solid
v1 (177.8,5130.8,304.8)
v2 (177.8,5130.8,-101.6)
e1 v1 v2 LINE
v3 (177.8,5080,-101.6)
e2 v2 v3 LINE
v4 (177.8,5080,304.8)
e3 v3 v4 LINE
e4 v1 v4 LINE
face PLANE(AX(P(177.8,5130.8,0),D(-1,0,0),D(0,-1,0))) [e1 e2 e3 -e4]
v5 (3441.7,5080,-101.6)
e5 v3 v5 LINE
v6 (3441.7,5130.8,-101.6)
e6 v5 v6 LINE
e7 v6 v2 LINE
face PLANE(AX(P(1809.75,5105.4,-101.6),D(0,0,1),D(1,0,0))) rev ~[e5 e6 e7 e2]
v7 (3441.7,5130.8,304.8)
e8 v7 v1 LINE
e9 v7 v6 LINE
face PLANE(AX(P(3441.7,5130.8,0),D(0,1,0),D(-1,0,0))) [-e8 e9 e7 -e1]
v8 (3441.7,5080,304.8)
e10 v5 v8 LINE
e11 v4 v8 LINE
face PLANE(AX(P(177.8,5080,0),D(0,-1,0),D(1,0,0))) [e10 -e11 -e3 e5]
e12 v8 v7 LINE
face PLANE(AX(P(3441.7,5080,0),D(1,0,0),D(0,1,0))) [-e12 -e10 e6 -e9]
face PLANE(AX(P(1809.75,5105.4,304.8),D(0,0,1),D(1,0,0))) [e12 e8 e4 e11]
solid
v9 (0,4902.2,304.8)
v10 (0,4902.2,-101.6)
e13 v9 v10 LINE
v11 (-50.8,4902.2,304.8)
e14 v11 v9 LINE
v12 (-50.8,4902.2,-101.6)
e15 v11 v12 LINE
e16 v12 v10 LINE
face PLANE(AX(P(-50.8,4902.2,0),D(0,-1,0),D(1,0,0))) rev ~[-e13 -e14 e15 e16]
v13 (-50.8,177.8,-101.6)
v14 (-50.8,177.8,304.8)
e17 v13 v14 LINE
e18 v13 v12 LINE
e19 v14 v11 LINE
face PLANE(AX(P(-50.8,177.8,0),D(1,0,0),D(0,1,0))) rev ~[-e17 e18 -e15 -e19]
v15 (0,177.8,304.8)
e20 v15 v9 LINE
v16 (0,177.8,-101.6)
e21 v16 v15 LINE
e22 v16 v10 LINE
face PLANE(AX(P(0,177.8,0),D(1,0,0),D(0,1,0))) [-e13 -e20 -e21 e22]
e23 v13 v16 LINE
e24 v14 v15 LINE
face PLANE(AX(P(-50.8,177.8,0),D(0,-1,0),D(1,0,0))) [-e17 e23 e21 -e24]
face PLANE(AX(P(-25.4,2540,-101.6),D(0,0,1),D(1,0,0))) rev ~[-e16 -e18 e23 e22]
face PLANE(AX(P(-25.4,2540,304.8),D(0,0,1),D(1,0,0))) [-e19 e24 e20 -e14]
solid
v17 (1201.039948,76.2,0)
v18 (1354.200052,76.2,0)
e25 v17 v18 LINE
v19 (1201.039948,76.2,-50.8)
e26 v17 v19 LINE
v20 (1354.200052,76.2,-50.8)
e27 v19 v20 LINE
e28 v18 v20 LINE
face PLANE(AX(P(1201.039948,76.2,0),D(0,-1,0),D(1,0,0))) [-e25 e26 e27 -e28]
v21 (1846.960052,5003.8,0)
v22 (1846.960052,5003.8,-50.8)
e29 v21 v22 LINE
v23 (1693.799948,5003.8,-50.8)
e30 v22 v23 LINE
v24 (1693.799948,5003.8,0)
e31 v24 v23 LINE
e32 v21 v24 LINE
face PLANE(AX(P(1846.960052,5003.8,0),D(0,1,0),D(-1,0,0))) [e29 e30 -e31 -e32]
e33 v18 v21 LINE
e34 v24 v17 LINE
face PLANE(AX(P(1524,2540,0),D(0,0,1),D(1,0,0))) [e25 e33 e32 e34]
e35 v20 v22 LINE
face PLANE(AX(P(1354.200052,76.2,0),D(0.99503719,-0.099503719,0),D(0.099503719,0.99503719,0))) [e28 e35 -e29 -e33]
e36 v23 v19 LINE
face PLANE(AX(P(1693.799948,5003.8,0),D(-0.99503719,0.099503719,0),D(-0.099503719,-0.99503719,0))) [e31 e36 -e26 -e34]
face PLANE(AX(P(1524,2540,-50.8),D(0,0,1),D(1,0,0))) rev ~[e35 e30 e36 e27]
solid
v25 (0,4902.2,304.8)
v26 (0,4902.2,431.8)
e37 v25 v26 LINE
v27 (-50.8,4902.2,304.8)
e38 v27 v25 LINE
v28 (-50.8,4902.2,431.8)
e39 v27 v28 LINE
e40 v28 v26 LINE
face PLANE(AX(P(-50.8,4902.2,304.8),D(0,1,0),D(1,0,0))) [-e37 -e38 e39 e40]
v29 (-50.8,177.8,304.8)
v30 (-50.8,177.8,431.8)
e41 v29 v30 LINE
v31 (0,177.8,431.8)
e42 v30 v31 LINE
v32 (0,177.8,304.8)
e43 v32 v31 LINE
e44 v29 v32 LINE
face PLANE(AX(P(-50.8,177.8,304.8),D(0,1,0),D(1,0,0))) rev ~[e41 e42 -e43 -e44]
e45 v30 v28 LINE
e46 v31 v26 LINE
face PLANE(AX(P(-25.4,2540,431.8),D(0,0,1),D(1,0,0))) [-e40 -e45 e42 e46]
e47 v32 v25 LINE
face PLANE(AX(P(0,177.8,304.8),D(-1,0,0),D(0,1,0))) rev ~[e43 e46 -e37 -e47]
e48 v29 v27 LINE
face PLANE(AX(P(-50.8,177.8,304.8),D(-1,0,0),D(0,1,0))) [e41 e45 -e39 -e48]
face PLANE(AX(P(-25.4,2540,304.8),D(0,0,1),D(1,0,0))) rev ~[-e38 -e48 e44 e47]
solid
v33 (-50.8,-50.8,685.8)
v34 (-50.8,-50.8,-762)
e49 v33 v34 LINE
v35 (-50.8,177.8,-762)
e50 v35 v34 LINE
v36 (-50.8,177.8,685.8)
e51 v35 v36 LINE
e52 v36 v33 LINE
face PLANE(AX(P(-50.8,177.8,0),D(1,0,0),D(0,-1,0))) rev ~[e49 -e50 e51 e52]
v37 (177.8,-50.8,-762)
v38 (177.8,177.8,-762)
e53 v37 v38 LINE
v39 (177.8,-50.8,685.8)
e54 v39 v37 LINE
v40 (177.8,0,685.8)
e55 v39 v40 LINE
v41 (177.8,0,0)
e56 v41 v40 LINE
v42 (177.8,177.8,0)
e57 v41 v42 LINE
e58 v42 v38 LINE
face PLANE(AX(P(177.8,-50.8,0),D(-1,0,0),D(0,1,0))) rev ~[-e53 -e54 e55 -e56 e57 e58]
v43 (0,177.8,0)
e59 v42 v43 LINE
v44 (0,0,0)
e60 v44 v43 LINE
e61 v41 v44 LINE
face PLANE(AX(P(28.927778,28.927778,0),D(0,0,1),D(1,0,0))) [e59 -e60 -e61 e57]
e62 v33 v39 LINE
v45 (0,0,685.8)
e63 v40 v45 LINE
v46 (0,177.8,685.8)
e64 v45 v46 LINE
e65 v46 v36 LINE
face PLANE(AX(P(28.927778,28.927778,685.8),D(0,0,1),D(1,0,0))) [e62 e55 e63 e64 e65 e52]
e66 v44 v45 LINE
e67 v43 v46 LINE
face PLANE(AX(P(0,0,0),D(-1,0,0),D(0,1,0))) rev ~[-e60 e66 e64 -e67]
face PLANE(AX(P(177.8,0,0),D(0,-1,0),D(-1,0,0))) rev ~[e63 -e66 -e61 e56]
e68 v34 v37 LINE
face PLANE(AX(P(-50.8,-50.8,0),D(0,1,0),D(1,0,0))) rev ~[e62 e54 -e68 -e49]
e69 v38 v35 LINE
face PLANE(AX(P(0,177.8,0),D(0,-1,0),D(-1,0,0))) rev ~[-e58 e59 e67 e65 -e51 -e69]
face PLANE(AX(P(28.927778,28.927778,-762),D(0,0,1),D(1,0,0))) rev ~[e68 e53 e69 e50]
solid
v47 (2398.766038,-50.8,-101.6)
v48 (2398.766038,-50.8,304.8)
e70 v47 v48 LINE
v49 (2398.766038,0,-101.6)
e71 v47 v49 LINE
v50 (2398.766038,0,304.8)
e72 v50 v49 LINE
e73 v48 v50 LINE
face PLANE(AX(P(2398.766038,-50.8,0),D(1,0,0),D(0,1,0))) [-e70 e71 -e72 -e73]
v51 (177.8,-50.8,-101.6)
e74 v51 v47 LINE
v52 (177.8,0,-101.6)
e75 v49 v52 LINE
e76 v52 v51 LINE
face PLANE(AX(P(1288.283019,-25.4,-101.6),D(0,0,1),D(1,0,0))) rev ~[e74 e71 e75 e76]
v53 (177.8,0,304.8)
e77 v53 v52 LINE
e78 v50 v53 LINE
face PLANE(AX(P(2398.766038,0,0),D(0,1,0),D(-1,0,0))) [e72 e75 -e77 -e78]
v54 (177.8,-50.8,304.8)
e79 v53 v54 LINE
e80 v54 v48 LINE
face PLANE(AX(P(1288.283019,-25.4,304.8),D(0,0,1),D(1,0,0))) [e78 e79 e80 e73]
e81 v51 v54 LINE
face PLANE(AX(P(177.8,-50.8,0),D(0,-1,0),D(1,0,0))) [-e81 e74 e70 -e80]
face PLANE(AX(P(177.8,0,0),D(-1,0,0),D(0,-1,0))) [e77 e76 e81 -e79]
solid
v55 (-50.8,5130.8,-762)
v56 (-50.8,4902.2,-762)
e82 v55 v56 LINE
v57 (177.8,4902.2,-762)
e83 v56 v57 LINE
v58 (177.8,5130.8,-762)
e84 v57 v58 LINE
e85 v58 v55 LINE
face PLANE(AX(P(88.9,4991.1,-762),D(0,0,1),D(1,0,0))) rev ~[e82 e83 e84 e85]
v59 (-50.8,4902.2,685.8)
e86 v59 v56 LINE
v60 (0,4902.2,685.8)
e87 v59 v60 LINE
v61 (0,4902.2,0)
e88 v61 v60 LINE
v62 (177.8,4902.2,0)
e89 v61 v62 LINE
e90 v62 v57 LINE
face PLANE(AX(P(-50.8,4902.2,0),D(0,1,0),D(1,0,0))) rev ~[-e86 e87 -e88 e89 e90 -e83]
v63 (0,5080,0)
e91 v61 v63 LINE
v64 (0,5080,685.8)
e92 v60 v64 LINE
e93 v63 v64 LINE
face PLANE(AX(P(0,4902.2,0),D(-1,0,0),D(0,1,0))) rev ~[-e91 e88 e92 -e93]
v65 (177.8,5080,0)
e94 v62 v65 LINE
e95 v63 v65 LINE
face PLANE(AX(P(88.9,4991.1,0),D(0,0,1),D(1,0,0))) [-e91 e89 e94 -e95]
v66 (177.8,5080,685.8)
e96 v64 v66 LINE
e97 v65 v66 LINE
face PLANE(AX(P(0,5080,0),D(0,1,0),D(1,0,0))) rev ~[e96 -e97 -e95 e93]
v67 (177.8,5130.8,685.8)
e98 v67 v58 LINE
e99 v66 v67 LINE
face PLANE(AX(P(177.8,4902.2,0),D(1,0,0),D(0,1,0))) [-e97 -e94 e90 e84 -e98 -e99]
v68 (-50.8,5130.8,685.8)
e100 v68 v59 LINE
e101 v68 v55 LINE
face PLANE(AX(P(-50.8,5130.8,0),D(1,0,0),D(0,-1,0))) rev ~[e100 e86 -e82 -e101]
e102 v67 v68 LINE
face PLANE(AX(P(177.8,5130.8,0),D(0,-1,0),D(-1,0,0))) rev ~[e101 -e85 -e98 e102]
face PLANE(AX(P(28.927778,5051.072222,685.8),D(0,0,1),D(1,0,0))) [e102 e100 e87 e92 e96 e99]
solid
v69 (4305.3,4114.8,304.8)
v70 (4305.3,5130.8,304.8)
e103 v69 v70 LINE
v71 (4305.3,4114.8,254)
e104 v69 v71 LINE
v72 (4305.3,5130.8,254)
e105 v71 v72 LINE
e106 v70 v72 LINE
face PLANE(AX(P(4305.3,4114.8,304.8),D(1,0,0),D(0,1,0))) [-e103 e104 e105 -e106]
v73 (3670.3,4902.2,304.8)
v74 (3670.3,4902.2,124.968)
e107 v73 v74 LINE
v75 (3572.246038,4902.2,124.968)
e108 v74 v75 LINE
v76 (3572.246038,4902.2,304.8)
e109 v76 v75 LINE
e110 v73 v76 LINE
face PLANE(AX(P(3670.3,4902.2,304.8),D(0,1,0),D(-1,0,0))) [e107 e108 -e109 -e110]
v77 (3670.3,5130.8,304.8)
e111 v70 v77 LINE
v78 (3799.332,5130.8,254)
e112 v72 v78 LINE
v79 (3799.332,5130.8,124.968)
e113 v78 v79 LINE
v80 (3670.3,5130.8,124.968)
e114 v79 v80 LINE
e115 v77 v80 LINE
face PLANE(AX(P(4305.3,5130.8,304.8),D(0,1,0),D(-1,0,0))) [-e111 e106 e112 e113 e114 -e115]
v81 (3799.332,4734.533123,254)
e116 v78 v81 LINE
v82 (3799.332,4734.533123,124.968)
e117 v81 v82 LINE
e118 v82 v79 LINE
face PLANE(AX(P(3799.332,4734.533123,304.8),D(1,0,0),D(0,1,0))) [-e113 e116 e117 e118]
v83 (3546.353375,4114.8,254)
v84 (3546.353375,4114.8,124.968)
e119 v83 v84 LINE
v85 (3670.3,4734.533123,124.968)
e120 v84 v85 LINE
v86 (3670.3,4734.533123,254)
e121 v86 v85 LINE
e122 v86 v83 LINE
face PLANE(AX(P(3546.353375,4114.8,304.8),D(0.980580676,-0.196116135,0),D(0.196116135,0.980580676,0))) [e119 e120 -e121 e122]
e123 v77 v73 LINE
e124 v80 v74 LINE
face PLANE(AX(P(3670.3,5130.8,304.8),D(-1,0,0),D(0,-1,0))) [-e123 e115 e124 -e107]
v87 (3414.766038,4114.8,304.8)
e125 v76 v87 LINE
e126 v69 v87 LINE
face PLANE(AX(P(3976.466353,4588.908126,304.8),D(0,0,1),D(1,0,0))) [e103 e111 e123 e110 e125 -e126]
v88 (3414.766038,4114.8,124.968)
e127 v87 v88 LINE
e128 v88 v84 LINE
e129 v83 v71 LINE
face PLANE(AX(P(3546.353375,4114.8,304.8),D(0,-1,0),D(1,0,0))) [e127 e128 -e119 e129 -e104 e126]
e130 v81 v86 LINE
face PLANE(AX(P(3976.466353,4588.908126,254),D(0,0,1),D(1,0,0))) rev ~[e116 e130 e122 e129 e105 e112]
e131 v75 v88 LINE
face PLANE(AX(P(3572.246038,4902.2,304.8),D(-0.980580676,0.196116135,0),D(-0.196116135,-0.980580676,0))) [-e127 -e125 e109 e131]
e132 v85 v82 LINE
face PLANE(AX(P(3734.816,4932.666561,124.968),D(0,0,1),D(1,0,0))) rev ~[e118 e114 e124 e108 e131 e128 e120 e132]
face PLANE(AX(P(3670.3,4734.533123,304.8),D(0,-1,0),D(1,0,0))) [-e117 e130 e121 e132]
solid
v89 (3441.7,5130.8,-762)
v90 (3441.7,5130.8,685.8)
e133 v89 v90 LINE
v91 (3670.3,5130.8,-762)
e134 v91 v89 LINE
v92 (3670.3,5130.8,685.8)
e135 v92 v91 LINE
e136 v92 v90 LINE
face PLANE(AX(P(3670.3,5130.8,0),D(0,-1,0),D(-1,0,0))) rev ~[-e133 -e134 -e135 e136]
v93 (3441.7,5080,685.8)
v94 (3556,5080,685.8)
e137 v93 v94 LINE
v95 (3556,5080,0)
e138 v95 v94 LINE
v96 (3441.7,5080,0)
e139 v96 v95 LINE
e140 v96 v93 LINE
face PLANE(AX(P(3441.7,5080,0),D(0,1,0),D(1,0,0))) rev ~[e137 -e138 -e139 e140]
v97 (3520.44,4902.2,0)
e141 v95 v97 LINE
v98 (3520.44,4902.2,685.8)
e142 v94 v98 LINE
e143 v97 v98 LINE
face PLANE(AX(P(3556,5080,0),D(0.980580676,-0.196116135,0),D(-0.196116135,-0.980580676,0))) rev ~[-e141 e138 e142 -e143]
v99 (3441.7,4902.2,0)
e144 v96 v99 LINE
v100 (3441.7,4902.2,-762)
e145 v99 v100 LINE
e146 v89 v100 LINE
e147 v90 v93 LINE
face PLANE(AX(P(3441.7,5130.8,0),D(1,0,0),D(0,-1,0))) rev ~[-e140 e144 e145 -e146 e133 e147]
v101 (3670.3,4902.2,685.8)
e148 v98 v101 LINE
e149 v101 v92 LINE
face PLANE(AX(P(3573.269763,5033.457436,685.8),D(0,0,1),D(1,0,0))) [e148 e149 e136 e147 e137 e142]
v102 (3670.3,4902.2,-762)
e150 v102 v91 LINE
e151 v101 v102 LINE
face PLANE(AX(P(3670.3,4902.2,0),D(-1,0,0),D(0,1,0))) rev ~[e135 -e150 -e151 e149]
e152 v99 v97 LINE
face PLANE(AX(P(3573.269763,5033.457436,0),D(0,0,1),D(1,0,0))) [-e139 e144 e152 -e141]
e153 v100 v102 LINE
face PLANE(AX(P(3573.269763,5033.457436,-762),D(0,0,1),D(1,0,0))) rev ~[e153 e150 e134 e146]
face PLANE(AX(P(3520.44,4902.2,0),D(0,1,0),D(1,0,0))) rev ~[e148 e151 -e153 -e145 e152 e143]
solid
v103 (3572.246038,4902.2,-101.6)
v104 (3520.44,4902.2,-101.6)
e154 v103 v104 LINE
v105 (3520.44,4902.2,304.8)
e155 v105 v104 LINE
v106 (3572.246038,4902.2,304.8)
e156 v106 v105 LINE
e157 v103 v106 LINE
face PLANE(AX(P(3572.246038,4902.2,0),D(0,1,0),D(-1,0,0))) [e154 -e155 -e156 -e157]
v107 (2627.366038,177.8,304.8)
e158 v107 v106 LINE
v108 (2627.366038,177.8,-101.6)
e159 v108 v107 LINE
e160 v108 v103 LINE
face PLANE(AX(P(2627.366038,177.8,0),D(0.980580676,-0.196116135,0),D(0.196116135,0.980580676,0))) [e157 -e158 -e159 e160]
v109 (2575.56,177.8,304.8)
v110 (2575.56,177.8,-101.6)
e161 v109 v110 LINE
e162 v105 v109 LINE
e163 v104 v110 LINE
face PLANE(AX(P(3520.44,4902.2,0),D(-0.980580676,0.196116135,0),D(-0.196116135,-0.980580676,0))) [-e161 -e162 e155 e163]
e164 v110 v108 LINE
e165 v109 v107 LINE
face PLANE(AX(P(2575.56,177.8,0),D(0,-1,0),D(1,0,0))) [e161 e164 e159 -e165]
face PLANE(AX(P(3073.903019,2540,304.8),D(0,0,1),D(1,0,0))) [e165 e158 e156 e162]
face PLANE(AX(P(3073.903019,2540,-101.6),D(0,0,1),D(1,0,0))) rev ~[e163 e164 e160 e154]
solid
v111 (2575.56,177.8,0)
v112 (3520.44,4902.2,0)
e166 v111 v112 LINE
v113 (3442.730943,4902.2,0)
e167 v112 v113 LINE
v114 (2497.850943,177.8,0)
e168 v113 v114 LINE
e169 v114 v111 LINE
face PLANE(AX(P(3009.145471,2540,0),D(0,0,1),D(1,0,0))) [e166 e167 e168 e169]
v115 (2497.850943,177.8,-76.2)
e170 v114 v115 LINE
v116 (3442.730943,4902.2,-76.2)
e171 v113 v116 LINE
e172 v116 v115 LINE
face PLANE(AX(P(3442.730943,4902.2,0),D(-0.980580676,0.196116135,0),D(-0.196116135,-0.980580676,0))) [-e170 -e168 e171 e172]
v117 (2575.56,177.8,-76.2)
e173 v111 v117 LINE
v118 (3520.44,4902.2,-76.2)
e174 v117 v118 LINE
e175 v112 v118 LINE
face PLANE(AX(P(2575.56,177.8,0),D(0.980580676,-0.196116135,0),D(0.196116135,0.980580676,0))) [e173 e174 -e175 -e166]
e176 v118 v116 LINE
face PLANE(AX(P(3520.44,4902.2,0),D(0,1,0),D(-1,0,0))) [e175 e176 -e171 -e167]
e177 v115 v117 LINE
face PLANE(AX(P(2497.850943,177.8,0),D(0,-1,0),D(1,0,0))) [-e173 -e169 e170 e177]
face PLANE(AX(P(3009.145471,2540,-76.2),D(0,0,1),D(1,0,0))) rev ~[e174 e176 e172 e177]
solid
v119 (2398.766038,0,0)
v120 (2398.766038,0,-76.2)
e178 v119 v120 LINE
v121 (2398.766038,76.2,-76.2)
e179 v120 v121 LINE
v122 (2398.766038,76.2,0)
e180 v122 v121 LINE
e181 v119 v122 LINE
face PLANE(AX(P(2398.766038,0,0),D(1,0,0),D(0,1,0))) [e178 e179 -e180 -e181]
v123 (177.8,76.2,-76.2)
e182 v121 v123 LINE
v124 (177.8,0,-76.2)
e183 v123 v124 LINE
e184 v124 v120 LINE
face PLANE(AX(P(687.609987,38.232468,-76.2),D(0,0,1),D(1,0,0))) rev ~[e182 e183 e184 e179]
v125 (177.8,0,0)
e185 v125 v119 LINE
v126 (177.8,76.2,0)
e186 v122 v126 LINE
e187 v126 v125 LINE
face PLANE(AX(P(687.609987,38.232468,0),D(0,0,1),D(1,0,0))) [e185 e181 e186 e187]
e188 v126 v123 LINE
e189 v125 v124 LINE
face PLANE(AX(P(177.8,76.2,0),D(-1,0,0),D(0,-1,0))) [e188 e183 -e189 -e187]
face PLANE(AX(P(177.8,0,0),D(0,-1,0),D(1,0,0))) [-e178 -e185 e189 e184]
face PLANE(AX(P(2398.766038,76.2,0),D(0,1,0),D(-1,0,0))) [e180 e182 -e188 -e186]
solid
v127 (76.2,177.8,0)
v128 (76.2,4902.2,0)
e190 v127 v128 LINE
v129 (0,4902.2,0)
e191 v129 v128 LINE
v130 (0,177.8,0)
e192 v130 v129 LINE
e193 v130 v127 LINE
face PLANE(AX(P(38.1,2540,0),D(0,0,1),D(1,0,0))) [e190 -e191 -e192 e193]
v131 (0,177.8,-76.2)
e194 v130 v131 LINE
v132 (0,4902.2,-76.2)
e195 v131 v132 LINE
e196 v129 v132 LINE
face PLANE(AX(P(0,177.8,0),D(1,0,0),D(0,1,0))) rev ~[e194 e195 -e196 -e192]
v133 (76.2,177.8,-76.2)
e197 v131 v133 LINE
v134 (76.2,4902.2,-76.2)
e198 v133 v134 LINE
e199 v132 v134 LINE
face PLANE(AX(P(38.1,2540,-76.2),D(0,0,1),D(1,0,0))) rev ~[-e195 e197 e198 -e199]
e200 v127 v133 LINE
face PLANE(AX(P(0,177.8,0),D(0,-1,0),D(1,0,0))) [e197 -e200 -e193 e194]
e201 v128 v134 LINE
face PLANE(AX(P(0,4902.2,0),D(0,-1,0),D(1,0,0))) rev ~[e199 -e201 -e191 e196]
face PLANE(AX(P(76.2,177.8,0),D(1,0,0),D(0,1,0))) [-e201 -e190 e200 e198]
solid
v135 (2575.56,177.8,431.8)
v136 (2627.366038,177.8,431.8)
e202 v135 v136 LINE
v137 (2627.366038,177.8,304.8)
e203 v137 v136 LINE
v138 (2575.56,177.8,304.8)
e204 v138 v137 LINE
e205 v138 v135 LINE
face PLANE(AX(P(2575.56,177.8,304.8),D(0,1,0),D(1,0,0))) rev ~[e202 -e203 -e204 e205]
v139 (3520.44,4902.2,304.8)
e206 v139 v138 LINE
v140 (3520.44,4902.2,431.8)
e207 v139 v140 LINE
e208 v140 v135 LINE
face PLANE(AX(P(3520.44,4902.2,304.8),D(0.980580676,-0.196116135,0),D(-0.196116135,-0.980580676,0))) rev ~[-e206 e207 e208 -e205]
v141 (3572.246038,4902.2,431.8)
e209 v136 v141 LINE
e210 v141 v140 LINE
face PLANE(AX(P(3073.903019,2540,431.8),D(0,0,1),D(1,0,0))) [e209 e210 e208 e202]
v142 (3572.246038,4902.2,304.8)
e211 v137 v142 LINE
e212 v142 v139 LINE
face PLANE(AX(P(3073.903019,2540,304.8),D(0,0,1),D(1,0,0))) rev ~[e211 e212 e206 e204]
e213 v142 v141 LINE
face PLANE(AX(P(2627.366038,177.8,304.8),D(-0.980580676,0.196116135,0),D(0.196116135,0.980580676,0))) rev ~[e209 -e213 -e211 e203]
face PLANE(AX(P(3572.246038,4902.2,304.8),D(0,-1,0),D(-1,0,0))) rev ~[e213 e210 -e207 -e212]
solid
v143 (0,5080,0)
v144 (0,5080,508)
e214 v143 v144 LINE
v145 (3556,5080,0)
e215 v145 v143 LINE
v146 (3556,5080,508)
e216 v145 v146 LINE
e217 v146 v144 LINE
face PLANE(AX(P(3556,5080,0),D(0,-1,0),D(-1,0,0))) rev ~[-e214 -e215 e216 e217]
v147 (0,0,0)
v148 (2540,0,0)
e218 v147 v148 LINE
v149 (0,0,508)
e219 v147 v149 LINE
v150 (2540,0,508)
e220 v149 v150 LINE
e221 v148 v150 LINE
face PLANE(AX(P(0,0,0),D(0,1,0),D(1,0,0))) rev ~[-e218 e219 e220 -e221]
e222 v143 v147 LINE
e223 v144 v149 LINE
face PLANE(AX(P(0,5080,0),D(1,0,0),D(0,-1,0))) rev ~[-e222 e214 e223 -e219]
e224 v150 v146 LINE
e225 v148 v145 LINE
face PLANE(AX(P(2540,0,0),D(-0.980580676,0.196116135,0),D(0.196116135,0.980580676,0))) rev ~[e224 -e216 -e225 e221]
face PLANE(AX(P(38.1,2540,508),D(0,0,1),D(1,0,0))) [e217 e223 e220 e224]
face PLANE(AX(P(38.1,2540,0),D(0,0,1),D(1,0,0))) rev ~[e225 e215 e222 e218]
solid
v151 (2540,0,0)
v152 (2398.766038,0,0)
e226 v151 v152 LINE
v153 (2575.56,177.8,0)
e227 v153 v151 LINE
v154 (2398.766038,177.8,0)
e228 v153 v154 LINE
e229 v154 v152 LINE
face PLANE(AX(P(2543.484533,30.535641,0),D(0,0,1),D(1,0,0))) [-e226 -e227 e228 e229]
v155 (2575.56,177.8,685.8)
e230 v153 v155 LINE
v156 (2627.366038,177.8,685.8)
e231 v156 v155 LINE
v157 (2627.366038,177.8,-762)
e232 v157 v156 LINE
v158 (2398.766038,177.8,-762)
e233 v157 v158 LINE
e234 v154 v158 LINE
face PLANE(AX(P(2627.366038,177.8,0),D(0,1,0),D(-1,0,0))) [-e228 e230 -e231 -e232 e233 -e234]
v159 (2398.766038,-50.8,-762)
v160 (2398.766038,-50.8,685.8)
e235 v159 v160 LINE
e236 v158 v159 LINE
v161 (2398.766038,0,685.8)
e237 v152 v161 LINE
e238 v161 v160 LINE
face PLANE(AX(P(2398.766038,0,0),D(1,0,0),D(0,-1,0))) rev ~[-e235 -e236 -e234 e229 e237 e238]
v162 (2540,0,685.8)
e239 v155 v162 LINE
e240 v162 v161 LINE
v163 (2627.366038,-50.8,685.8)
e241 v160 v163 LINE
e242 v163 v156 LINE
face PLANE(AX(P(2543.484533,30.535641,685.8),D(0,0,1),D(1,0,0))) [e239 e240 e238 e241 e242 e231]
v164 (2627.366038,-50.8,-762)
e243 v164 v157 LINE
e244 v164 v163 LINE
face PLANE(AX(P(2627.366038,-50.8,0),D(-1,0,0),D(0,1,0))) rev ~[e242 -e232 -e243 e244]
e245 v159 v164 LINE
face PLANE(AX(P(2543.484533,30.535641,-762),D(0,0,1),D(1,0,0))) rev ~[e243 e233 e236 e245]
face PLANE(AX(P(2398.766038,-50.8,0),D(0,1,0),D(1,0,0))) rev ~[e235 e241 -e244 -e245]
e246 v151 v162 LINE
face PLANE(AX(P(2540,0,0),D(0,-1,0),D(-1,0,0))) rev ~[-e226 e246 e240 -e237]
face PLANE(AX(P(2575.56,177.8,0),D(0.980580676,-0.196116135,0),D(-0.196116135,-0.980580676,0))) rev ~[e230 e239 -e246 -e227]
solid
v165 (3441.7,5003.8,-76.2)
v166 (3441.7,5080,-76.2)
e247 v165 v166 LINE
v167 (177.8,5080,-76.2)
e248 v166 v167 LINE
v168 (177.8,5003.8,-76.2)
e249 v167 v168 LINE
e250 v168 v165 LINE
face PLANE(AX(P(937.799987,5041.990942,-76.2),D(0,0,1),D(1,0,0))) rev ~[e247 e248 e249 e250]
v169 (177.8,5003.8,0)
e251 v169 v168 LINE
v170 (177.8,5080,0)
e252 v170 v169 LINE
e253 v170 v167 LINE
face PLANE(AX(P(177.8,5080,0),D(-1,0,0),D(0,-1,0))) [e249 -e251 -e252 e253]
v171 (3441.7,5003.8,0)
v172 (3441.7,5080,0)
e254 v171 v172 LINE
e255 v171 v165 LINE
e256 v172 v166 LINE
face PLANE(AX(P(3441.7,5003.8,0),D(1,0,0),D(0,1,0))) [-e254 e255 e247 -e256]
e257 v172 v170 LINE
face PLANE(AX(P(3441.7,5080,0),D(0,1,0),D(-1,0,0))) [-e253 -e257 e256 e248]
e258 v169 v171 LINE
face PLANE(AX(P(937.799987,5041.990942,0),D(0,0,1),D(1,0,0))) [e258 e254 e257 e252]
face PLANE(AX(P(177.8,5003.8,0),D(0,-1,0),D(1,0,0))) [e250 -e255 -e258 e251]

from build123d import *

# Parameters (mm, degrees)
F1_DEPTH      = 762
F2_DEPTH      = 685.8
F0_W          = 50.8
F0_H          = 4724.4
F3_DEPTH      = 304.8
F3_DEPTH_BACK = 101.6
F5_DEPTH      = 179.832
F6_DEPTH      = 50.8
F0_W_2        = 76.2
F7_DEPTH      = 76.2
F8_DEPTH      = 508
F9_DEPTH      = 127
F10_DEPTH     = 50.8


with BuildPart() as f1:
    # F0 (on Top) → F1 (new body)
    with BuildSketch(Plane.XY):
        Polygon((2398.7660382581, 0), (2398.7660382581, -50.8), (2627.3660382581, -50.8), (2627.3660382581, 177.8), (2575.56, 177.8), (2540, 0), align=None)
        Polygon((2398.7660382581, 76.2), (2398.7660382581, 0), (2540, 0), (2575.56, 177.8), (2497.8509426128, 177.8), (2398.7660382581, 177.8), align=None)
    extrude(amount=-F1_DEPTH)

    # F0 (on Top) → F2, piece 2 (join)
    with BuildSketch(Plane.XY):
        Polygon((2398.7660382581, 0), (2398.7660382581, -50.8), (2627.3660382581, -50.8), (2627.3660382581, 177.8), (2575.56, 177.8), (2540, 0), align=None)
    extrude(amount=F2_DEPTH)


with BuildPart() as f1b:
    # F0 (on Top) → F1, piece 2 (new body)
    with BuildSketch(Plane.XY):
        Polygon((3670.3, 5130.8), (3441.7, 5130.8), (3441.7, 5080), (3556, 5080), (3520.44, 4902.2), (3572.2460382581, 4902.2), (3670.3, 4902.2), align=None)
        Polygon((3441.7, 5080), (3441.7, 5003.8), (3441.7, 4902.2), (3442.7309426128, 4902.2), (3520.44, 4902.2), (3556, 5080), align=None)
    extrude(amount=-F1_DEPTH)

    # F0 (on Top) → F2, piece 3 (join)
    with BuildSketch(Plane.XY):
        Polygon((3670.3, 5130.8), (3441.7, 5130.8), (3441.7, 5080), (3556, 5080), (3520.44, 4902.2), (3572.2460382581, 4902.2), (3670.3, 4902.2), align=None)
    extrude(amount=F2_DEPTH)


with BuildPart() as f1c:
    # F0 (on Top) → F1, piece 3 (new body)
    with BuildSketch(Plane.XY):
        Polygon((177.8, 0), (0, 0), (0, 177.8), (-50.8, 177.8), (-50.8, -50.8), (177.8, -50.8), align=None)
        Polygon((0, 177.8), (0, 0), (177.8, 0), (177.8, 76.2), (177.8, 177.8), (76.2, 177.8), align=None)
    extrude(amount=-F1_DEPTH)

    # F0 (on Top) → F2 (join)
    with BuildSketch(Plane.XY):
        Polygon((177.8, 0), (0, 0), (0, 177.8), (-50.8, 177.8), (-50.8, -50.8), (177.8, -50.8), align=None)
    extrude(amount=F2_DEPTH)


with BuildPart() as f1d:
    # F0 (on Top) → F1, piece 4 (new body)
    with BuildSketch(Plane.XY):
        Polygon((0, 5080), (0, 4902.2), (76.2, 4902.2), (177.8, 4902.2), (177.8, 5003.8), (177.8, 5080), align=None)
        Polygon((-50.8, 4902.2), (0, 4902.2), (0, 5080), (177.8, 5080), (177.8, 5130.8), (-50.8, 5130.8), align=None)
    extrude(amount=-F1_DEPTH)

    # F0 (on Top) → F2, piece 4 (join)
    with BuildSketch(Plane.XY):
        Polygon((-50.8, 4902.2), (0, 4902.2), (0, 5080), (177.8, 5080), (177.8, 5130.8), (-50.8, 5130.8), align=None)
    extrude(amount=F2_DEPTH)


with BuildPart() as f3:
    # F0 (on Top) → F3 (new body, two sides)
    with BuildSketch(Plane.XY) as f3_sk:
        with Locations((-25.4, 2540)):
            Rectangle(F0_W, F0_H)
    extrude(amount=F3_DEPTH)
    extrude(f3_sk.sketch, amount=-F3_DEPTH_BACK)


with BuildPart() as f3b:
    # F0 (on Top) → F3, piece 2 (new body, two sides)
    with BuildSketch(Plane.XY) as f3_2_sk:
        Polygon((177.8, 5130.8), (177.8, 5080), (1701.4199477671, 5080), (1854.5800522329, 5080), (3441.7, 5080), (3441.7, 5130.8), align=None)
    extrude(amount=F3_DEPTH)
    extrude(f3_2_sk.sketch, amount=-F3_DEPTH_BACK)


with BuildPart() as f3c:
    # F0 (on Top) → F3, piece 3 (new body, two sides)
    with BuildSketch(Plane.XY) as f3_3_sk:
        Polygon((2575.56, 177.8), (2627.3660382581, 177.8), (3572.2460382581, 4902.2), (3520.44, 4902.2), align=None)
    extrude(amount=F3_DEPTH)
    extrude(f3_3_sk.sketch, amount=-F3_DEPTH_BACK)


with BuildPart() as f3d:
    # F0 (on Top) → F3, piece 4 (new body, two sides)
    with BuildSketch(Plane.XY) as f3_4_sk:
        Polygon((1193.4199477671, 0), (177.8, 0), (177.8, -50.8), (2398.7660382581, -50.8), (2398.7660382581, 0), (1346.5800522329, 0), align=None)
    extrude(amount=F3_DEPTH)
    extrude(f3_4_sk.sketch, amount=-F3_DEPTH_BACK)


with BuildPart() as f5:
    # F4 (on face) → F5 (new body)
    with BuildSketch(Plane.XY.offset(304.8)):
        Polygon((3670.3, 5130.8), (3670.3, 4902.2), (3670.3, 4734.5331228316), (3799.332, 4734.5331228316), (3799.332, 5130.8), align=None)
        Polygon((3670.3, 4734.5331228316), (3670.3, 4902.2), (3616.9708189392, 4902.2), (3572.2460382581, 4902.2), (3414.7660382581, 4114.8), (3546.3533754337, 4114.8), align=None)
    extrude(amount=-F5_DEPTH)

    # F4 (on face) → F6 (join)
    with BuildSketch(Plane.XY.offset(304.8)):
        Polygon((3799.332, 4734.5331228316), (3670.3, 4734.5331228316), (3546.3533754337, 4114.8), (4305.3, 4114.8), (4305.3, 5130.8), (3799.332, 5130.8), align=None)
    extrude(amount=-F6_DEPTH)


with BuildPart() as f7:
    # F0 (on Top) → F7 (new body)
    with BuildSketch(Plane.XY):
        with Locations((38.1, 2540)):
            Rectangle(F0_W_2, F0_H)
    extrude(amount=-F7_DEPTH)


with BuildPart() as f7b:
    # F0 (on Top) → F7, piece 2 (new body)
    with BuildSketch(Plane.XY):
        Polygon((1701.4199477671, 5080), (177.8, 5080), (177.8, 5003.8), (1693.7999477671, 5003.8), align=None)
        Polygon((1701.4199477671, 5080), (1693.7999477671, 5003.8), (1846.9600522329, 5003.8), (1854.5800522329, 5080), align=None)
        Polygon((1854.5800522329, 5080), (1846.9600522329, 5003.8), (3441.7, 5003.8), (3441.7, 5080), align=None)
    extrude(amount=-F7_DEPTH)


with BuildPart() as f7c:
    # F0 (on Top) → F7, piece 3 (new body)
    with BuildSketch(Plane.XY):
        Polygon((2497.8509426128, 177.8), (2575.56, 177.8), (3520.44, 4902.2), (3442.7309426128, 4902.2), align=None)
    extrude(amount=-F7_DEPTH)


with BuildPart() as f7d:
    # F0 (on Top) → F7, piece 4 (new body)
    with BuildSketch(Plane.XY):
        Polygon((177.8, 76.2), (177.8, 0), (1193.4199477671, 0), (1201.0399477671, 76.2), align=None)
        Polygon((1201.0399477671, 76.2), (1193.4199477671, 0), (1346.5800522329, 0), (1354.2000522329, 76.2), align=None)
        Polygon((1354.2000522329, 76.2), (1346.5800522329, 0), (2398.7660382581, 0), (2398.7660382581, 76.2), align=None)
    extrude(amount=-F7_DEPTH)


with BuildPart() as f8:
    # F0 (on Top) → F8 (new body)
    with BuildSketch(Plane.XY):
        with Locations((38.1, 2540)):
            Rectangle(F0_W_2, F0_H)
        Polygon((0, 5080), (0, 4902.2), (76.2, 4902.2), (177.8, 4902.2), (177.8, 5003.8), (177.8, 5080), align=None)
        Polygon((1701.4199477671, 5080), (177.8, 5080), (177.8, 5003.8), (1693.7999477671, 5003.8), align=None)
        Polygon((1701.4199477671, 5080), (1693.7999477671, 5003.8), (1846.9600522329, 5003.8), (1854.5800522329, 5080), align=None)
        Polygon((1854.5800522329, 5080), (1846.9600522329, 5003.8), (3441.7, 5003.8), (3441.7, 5080), align=None)
        Polygon((76.2, 4902.2), (76.2, 177.8), (177.8, 177.8), (177.8, 76.2), (1201.0399477671, 76.2), (1693.7999477671, 5003.8), (177.8, 5003.8), (177.8, 4902.2), align=None)
        Polygon((2497.8509426128, 177.8), (2575.56, 177.8), (3520.44, 4902.2), (3442.7309426128, 4902.2), align=None)
        Polygon((2398.7660382581, 76.2), (2398.7660382581, 0), (2540, 0), (2575.56, 177.8), (2497.8509426128, 177.8), (2398.7660382581, 177.8), align=None)
        Polygon((177.8, 76.2), (177.8, 0), (1193.4199477671, 0), (1201.0399477671, 76.2), align=None)
        Polygon((1201.0399477671, 76.2), (1193.4199477671, 0), (1346.5800522329, 0), (1354.2000522329, 76.2), align=None)
        Polygon((1354.2000522329, 76.2), (1346.5800522329, 0), (2398.7660382581, 0), (2398.7660382581, 76.2), align=None)
        Polygon((0, 177.8), (0, 0), (177.8, 0), (177.8, 76.2), (177.8, 177.8), (76.2, 177.8), align=None)
        Polygon((3441.7, 5080), (3441.7, 5003.8), (3441.7, 4902.2), (3442.7309426128, 4902.2), (3520.44, 4902.2), (3556, 5080), align=None)
        Polygon((1693.7999477671, 5003.8), (1201.0399477671, 76.2), (1354.2000522329, 76.2), (1846.9600522329, 5003.8), align=None)
        Polygon((1846.9600522329, 5003.8), (1354.2000522329, 76.2), (2398.7660382581, 76.2), (2398.7660382581, 177.8), (2497.8509426128, 177.8), (3442.7309426128, 4902.2), (3441.7, 4902.2), (3441.7, 5003.8), align=None)
    extrude(amount=F8_DEPTH)


with BuildPart() as f9:
    # F9 (new): a face of the model
    f9_faces = [f3c.part.faces().sort_by_distance(p)[0] for p in [
        (3073.9030191291, 2540, 304.8),
    ]]
    extrude(f9_faces, amount=F9_DEPTH)


with BuildPart() as f9b:
    # F9#2 (new): a face of the model
    f9_2_faces = [f3.part.faces().sort_by_distance(p)[0] for p in [
        (-25.4, 2540, 304.8),
    ]]
    extrude(f9_2_faces, amount=F9_DEPTH)


with BuildPart() as f10:
    # F0 (on Top) → F10 (new body)
    with BuildSketch(Plane.XY):
        Polygon((1693.7999477671, 5003.8), (1201.0399477671, 76.2), (1354.2000522329, 76.2), (1846.9600522329, 5003.8), align=None)
    extrude(amount=-F10_DEPTH)


solid = Compound([f1.part, f1b.part, f1c.part, f1d.part, f3.part, f3b.part, f3c.part, f3d.part, f5.part, f7.part, f7b.part, f7c.part, f7d.part, f8.part, f9.part, f9b.part, f10.part])
